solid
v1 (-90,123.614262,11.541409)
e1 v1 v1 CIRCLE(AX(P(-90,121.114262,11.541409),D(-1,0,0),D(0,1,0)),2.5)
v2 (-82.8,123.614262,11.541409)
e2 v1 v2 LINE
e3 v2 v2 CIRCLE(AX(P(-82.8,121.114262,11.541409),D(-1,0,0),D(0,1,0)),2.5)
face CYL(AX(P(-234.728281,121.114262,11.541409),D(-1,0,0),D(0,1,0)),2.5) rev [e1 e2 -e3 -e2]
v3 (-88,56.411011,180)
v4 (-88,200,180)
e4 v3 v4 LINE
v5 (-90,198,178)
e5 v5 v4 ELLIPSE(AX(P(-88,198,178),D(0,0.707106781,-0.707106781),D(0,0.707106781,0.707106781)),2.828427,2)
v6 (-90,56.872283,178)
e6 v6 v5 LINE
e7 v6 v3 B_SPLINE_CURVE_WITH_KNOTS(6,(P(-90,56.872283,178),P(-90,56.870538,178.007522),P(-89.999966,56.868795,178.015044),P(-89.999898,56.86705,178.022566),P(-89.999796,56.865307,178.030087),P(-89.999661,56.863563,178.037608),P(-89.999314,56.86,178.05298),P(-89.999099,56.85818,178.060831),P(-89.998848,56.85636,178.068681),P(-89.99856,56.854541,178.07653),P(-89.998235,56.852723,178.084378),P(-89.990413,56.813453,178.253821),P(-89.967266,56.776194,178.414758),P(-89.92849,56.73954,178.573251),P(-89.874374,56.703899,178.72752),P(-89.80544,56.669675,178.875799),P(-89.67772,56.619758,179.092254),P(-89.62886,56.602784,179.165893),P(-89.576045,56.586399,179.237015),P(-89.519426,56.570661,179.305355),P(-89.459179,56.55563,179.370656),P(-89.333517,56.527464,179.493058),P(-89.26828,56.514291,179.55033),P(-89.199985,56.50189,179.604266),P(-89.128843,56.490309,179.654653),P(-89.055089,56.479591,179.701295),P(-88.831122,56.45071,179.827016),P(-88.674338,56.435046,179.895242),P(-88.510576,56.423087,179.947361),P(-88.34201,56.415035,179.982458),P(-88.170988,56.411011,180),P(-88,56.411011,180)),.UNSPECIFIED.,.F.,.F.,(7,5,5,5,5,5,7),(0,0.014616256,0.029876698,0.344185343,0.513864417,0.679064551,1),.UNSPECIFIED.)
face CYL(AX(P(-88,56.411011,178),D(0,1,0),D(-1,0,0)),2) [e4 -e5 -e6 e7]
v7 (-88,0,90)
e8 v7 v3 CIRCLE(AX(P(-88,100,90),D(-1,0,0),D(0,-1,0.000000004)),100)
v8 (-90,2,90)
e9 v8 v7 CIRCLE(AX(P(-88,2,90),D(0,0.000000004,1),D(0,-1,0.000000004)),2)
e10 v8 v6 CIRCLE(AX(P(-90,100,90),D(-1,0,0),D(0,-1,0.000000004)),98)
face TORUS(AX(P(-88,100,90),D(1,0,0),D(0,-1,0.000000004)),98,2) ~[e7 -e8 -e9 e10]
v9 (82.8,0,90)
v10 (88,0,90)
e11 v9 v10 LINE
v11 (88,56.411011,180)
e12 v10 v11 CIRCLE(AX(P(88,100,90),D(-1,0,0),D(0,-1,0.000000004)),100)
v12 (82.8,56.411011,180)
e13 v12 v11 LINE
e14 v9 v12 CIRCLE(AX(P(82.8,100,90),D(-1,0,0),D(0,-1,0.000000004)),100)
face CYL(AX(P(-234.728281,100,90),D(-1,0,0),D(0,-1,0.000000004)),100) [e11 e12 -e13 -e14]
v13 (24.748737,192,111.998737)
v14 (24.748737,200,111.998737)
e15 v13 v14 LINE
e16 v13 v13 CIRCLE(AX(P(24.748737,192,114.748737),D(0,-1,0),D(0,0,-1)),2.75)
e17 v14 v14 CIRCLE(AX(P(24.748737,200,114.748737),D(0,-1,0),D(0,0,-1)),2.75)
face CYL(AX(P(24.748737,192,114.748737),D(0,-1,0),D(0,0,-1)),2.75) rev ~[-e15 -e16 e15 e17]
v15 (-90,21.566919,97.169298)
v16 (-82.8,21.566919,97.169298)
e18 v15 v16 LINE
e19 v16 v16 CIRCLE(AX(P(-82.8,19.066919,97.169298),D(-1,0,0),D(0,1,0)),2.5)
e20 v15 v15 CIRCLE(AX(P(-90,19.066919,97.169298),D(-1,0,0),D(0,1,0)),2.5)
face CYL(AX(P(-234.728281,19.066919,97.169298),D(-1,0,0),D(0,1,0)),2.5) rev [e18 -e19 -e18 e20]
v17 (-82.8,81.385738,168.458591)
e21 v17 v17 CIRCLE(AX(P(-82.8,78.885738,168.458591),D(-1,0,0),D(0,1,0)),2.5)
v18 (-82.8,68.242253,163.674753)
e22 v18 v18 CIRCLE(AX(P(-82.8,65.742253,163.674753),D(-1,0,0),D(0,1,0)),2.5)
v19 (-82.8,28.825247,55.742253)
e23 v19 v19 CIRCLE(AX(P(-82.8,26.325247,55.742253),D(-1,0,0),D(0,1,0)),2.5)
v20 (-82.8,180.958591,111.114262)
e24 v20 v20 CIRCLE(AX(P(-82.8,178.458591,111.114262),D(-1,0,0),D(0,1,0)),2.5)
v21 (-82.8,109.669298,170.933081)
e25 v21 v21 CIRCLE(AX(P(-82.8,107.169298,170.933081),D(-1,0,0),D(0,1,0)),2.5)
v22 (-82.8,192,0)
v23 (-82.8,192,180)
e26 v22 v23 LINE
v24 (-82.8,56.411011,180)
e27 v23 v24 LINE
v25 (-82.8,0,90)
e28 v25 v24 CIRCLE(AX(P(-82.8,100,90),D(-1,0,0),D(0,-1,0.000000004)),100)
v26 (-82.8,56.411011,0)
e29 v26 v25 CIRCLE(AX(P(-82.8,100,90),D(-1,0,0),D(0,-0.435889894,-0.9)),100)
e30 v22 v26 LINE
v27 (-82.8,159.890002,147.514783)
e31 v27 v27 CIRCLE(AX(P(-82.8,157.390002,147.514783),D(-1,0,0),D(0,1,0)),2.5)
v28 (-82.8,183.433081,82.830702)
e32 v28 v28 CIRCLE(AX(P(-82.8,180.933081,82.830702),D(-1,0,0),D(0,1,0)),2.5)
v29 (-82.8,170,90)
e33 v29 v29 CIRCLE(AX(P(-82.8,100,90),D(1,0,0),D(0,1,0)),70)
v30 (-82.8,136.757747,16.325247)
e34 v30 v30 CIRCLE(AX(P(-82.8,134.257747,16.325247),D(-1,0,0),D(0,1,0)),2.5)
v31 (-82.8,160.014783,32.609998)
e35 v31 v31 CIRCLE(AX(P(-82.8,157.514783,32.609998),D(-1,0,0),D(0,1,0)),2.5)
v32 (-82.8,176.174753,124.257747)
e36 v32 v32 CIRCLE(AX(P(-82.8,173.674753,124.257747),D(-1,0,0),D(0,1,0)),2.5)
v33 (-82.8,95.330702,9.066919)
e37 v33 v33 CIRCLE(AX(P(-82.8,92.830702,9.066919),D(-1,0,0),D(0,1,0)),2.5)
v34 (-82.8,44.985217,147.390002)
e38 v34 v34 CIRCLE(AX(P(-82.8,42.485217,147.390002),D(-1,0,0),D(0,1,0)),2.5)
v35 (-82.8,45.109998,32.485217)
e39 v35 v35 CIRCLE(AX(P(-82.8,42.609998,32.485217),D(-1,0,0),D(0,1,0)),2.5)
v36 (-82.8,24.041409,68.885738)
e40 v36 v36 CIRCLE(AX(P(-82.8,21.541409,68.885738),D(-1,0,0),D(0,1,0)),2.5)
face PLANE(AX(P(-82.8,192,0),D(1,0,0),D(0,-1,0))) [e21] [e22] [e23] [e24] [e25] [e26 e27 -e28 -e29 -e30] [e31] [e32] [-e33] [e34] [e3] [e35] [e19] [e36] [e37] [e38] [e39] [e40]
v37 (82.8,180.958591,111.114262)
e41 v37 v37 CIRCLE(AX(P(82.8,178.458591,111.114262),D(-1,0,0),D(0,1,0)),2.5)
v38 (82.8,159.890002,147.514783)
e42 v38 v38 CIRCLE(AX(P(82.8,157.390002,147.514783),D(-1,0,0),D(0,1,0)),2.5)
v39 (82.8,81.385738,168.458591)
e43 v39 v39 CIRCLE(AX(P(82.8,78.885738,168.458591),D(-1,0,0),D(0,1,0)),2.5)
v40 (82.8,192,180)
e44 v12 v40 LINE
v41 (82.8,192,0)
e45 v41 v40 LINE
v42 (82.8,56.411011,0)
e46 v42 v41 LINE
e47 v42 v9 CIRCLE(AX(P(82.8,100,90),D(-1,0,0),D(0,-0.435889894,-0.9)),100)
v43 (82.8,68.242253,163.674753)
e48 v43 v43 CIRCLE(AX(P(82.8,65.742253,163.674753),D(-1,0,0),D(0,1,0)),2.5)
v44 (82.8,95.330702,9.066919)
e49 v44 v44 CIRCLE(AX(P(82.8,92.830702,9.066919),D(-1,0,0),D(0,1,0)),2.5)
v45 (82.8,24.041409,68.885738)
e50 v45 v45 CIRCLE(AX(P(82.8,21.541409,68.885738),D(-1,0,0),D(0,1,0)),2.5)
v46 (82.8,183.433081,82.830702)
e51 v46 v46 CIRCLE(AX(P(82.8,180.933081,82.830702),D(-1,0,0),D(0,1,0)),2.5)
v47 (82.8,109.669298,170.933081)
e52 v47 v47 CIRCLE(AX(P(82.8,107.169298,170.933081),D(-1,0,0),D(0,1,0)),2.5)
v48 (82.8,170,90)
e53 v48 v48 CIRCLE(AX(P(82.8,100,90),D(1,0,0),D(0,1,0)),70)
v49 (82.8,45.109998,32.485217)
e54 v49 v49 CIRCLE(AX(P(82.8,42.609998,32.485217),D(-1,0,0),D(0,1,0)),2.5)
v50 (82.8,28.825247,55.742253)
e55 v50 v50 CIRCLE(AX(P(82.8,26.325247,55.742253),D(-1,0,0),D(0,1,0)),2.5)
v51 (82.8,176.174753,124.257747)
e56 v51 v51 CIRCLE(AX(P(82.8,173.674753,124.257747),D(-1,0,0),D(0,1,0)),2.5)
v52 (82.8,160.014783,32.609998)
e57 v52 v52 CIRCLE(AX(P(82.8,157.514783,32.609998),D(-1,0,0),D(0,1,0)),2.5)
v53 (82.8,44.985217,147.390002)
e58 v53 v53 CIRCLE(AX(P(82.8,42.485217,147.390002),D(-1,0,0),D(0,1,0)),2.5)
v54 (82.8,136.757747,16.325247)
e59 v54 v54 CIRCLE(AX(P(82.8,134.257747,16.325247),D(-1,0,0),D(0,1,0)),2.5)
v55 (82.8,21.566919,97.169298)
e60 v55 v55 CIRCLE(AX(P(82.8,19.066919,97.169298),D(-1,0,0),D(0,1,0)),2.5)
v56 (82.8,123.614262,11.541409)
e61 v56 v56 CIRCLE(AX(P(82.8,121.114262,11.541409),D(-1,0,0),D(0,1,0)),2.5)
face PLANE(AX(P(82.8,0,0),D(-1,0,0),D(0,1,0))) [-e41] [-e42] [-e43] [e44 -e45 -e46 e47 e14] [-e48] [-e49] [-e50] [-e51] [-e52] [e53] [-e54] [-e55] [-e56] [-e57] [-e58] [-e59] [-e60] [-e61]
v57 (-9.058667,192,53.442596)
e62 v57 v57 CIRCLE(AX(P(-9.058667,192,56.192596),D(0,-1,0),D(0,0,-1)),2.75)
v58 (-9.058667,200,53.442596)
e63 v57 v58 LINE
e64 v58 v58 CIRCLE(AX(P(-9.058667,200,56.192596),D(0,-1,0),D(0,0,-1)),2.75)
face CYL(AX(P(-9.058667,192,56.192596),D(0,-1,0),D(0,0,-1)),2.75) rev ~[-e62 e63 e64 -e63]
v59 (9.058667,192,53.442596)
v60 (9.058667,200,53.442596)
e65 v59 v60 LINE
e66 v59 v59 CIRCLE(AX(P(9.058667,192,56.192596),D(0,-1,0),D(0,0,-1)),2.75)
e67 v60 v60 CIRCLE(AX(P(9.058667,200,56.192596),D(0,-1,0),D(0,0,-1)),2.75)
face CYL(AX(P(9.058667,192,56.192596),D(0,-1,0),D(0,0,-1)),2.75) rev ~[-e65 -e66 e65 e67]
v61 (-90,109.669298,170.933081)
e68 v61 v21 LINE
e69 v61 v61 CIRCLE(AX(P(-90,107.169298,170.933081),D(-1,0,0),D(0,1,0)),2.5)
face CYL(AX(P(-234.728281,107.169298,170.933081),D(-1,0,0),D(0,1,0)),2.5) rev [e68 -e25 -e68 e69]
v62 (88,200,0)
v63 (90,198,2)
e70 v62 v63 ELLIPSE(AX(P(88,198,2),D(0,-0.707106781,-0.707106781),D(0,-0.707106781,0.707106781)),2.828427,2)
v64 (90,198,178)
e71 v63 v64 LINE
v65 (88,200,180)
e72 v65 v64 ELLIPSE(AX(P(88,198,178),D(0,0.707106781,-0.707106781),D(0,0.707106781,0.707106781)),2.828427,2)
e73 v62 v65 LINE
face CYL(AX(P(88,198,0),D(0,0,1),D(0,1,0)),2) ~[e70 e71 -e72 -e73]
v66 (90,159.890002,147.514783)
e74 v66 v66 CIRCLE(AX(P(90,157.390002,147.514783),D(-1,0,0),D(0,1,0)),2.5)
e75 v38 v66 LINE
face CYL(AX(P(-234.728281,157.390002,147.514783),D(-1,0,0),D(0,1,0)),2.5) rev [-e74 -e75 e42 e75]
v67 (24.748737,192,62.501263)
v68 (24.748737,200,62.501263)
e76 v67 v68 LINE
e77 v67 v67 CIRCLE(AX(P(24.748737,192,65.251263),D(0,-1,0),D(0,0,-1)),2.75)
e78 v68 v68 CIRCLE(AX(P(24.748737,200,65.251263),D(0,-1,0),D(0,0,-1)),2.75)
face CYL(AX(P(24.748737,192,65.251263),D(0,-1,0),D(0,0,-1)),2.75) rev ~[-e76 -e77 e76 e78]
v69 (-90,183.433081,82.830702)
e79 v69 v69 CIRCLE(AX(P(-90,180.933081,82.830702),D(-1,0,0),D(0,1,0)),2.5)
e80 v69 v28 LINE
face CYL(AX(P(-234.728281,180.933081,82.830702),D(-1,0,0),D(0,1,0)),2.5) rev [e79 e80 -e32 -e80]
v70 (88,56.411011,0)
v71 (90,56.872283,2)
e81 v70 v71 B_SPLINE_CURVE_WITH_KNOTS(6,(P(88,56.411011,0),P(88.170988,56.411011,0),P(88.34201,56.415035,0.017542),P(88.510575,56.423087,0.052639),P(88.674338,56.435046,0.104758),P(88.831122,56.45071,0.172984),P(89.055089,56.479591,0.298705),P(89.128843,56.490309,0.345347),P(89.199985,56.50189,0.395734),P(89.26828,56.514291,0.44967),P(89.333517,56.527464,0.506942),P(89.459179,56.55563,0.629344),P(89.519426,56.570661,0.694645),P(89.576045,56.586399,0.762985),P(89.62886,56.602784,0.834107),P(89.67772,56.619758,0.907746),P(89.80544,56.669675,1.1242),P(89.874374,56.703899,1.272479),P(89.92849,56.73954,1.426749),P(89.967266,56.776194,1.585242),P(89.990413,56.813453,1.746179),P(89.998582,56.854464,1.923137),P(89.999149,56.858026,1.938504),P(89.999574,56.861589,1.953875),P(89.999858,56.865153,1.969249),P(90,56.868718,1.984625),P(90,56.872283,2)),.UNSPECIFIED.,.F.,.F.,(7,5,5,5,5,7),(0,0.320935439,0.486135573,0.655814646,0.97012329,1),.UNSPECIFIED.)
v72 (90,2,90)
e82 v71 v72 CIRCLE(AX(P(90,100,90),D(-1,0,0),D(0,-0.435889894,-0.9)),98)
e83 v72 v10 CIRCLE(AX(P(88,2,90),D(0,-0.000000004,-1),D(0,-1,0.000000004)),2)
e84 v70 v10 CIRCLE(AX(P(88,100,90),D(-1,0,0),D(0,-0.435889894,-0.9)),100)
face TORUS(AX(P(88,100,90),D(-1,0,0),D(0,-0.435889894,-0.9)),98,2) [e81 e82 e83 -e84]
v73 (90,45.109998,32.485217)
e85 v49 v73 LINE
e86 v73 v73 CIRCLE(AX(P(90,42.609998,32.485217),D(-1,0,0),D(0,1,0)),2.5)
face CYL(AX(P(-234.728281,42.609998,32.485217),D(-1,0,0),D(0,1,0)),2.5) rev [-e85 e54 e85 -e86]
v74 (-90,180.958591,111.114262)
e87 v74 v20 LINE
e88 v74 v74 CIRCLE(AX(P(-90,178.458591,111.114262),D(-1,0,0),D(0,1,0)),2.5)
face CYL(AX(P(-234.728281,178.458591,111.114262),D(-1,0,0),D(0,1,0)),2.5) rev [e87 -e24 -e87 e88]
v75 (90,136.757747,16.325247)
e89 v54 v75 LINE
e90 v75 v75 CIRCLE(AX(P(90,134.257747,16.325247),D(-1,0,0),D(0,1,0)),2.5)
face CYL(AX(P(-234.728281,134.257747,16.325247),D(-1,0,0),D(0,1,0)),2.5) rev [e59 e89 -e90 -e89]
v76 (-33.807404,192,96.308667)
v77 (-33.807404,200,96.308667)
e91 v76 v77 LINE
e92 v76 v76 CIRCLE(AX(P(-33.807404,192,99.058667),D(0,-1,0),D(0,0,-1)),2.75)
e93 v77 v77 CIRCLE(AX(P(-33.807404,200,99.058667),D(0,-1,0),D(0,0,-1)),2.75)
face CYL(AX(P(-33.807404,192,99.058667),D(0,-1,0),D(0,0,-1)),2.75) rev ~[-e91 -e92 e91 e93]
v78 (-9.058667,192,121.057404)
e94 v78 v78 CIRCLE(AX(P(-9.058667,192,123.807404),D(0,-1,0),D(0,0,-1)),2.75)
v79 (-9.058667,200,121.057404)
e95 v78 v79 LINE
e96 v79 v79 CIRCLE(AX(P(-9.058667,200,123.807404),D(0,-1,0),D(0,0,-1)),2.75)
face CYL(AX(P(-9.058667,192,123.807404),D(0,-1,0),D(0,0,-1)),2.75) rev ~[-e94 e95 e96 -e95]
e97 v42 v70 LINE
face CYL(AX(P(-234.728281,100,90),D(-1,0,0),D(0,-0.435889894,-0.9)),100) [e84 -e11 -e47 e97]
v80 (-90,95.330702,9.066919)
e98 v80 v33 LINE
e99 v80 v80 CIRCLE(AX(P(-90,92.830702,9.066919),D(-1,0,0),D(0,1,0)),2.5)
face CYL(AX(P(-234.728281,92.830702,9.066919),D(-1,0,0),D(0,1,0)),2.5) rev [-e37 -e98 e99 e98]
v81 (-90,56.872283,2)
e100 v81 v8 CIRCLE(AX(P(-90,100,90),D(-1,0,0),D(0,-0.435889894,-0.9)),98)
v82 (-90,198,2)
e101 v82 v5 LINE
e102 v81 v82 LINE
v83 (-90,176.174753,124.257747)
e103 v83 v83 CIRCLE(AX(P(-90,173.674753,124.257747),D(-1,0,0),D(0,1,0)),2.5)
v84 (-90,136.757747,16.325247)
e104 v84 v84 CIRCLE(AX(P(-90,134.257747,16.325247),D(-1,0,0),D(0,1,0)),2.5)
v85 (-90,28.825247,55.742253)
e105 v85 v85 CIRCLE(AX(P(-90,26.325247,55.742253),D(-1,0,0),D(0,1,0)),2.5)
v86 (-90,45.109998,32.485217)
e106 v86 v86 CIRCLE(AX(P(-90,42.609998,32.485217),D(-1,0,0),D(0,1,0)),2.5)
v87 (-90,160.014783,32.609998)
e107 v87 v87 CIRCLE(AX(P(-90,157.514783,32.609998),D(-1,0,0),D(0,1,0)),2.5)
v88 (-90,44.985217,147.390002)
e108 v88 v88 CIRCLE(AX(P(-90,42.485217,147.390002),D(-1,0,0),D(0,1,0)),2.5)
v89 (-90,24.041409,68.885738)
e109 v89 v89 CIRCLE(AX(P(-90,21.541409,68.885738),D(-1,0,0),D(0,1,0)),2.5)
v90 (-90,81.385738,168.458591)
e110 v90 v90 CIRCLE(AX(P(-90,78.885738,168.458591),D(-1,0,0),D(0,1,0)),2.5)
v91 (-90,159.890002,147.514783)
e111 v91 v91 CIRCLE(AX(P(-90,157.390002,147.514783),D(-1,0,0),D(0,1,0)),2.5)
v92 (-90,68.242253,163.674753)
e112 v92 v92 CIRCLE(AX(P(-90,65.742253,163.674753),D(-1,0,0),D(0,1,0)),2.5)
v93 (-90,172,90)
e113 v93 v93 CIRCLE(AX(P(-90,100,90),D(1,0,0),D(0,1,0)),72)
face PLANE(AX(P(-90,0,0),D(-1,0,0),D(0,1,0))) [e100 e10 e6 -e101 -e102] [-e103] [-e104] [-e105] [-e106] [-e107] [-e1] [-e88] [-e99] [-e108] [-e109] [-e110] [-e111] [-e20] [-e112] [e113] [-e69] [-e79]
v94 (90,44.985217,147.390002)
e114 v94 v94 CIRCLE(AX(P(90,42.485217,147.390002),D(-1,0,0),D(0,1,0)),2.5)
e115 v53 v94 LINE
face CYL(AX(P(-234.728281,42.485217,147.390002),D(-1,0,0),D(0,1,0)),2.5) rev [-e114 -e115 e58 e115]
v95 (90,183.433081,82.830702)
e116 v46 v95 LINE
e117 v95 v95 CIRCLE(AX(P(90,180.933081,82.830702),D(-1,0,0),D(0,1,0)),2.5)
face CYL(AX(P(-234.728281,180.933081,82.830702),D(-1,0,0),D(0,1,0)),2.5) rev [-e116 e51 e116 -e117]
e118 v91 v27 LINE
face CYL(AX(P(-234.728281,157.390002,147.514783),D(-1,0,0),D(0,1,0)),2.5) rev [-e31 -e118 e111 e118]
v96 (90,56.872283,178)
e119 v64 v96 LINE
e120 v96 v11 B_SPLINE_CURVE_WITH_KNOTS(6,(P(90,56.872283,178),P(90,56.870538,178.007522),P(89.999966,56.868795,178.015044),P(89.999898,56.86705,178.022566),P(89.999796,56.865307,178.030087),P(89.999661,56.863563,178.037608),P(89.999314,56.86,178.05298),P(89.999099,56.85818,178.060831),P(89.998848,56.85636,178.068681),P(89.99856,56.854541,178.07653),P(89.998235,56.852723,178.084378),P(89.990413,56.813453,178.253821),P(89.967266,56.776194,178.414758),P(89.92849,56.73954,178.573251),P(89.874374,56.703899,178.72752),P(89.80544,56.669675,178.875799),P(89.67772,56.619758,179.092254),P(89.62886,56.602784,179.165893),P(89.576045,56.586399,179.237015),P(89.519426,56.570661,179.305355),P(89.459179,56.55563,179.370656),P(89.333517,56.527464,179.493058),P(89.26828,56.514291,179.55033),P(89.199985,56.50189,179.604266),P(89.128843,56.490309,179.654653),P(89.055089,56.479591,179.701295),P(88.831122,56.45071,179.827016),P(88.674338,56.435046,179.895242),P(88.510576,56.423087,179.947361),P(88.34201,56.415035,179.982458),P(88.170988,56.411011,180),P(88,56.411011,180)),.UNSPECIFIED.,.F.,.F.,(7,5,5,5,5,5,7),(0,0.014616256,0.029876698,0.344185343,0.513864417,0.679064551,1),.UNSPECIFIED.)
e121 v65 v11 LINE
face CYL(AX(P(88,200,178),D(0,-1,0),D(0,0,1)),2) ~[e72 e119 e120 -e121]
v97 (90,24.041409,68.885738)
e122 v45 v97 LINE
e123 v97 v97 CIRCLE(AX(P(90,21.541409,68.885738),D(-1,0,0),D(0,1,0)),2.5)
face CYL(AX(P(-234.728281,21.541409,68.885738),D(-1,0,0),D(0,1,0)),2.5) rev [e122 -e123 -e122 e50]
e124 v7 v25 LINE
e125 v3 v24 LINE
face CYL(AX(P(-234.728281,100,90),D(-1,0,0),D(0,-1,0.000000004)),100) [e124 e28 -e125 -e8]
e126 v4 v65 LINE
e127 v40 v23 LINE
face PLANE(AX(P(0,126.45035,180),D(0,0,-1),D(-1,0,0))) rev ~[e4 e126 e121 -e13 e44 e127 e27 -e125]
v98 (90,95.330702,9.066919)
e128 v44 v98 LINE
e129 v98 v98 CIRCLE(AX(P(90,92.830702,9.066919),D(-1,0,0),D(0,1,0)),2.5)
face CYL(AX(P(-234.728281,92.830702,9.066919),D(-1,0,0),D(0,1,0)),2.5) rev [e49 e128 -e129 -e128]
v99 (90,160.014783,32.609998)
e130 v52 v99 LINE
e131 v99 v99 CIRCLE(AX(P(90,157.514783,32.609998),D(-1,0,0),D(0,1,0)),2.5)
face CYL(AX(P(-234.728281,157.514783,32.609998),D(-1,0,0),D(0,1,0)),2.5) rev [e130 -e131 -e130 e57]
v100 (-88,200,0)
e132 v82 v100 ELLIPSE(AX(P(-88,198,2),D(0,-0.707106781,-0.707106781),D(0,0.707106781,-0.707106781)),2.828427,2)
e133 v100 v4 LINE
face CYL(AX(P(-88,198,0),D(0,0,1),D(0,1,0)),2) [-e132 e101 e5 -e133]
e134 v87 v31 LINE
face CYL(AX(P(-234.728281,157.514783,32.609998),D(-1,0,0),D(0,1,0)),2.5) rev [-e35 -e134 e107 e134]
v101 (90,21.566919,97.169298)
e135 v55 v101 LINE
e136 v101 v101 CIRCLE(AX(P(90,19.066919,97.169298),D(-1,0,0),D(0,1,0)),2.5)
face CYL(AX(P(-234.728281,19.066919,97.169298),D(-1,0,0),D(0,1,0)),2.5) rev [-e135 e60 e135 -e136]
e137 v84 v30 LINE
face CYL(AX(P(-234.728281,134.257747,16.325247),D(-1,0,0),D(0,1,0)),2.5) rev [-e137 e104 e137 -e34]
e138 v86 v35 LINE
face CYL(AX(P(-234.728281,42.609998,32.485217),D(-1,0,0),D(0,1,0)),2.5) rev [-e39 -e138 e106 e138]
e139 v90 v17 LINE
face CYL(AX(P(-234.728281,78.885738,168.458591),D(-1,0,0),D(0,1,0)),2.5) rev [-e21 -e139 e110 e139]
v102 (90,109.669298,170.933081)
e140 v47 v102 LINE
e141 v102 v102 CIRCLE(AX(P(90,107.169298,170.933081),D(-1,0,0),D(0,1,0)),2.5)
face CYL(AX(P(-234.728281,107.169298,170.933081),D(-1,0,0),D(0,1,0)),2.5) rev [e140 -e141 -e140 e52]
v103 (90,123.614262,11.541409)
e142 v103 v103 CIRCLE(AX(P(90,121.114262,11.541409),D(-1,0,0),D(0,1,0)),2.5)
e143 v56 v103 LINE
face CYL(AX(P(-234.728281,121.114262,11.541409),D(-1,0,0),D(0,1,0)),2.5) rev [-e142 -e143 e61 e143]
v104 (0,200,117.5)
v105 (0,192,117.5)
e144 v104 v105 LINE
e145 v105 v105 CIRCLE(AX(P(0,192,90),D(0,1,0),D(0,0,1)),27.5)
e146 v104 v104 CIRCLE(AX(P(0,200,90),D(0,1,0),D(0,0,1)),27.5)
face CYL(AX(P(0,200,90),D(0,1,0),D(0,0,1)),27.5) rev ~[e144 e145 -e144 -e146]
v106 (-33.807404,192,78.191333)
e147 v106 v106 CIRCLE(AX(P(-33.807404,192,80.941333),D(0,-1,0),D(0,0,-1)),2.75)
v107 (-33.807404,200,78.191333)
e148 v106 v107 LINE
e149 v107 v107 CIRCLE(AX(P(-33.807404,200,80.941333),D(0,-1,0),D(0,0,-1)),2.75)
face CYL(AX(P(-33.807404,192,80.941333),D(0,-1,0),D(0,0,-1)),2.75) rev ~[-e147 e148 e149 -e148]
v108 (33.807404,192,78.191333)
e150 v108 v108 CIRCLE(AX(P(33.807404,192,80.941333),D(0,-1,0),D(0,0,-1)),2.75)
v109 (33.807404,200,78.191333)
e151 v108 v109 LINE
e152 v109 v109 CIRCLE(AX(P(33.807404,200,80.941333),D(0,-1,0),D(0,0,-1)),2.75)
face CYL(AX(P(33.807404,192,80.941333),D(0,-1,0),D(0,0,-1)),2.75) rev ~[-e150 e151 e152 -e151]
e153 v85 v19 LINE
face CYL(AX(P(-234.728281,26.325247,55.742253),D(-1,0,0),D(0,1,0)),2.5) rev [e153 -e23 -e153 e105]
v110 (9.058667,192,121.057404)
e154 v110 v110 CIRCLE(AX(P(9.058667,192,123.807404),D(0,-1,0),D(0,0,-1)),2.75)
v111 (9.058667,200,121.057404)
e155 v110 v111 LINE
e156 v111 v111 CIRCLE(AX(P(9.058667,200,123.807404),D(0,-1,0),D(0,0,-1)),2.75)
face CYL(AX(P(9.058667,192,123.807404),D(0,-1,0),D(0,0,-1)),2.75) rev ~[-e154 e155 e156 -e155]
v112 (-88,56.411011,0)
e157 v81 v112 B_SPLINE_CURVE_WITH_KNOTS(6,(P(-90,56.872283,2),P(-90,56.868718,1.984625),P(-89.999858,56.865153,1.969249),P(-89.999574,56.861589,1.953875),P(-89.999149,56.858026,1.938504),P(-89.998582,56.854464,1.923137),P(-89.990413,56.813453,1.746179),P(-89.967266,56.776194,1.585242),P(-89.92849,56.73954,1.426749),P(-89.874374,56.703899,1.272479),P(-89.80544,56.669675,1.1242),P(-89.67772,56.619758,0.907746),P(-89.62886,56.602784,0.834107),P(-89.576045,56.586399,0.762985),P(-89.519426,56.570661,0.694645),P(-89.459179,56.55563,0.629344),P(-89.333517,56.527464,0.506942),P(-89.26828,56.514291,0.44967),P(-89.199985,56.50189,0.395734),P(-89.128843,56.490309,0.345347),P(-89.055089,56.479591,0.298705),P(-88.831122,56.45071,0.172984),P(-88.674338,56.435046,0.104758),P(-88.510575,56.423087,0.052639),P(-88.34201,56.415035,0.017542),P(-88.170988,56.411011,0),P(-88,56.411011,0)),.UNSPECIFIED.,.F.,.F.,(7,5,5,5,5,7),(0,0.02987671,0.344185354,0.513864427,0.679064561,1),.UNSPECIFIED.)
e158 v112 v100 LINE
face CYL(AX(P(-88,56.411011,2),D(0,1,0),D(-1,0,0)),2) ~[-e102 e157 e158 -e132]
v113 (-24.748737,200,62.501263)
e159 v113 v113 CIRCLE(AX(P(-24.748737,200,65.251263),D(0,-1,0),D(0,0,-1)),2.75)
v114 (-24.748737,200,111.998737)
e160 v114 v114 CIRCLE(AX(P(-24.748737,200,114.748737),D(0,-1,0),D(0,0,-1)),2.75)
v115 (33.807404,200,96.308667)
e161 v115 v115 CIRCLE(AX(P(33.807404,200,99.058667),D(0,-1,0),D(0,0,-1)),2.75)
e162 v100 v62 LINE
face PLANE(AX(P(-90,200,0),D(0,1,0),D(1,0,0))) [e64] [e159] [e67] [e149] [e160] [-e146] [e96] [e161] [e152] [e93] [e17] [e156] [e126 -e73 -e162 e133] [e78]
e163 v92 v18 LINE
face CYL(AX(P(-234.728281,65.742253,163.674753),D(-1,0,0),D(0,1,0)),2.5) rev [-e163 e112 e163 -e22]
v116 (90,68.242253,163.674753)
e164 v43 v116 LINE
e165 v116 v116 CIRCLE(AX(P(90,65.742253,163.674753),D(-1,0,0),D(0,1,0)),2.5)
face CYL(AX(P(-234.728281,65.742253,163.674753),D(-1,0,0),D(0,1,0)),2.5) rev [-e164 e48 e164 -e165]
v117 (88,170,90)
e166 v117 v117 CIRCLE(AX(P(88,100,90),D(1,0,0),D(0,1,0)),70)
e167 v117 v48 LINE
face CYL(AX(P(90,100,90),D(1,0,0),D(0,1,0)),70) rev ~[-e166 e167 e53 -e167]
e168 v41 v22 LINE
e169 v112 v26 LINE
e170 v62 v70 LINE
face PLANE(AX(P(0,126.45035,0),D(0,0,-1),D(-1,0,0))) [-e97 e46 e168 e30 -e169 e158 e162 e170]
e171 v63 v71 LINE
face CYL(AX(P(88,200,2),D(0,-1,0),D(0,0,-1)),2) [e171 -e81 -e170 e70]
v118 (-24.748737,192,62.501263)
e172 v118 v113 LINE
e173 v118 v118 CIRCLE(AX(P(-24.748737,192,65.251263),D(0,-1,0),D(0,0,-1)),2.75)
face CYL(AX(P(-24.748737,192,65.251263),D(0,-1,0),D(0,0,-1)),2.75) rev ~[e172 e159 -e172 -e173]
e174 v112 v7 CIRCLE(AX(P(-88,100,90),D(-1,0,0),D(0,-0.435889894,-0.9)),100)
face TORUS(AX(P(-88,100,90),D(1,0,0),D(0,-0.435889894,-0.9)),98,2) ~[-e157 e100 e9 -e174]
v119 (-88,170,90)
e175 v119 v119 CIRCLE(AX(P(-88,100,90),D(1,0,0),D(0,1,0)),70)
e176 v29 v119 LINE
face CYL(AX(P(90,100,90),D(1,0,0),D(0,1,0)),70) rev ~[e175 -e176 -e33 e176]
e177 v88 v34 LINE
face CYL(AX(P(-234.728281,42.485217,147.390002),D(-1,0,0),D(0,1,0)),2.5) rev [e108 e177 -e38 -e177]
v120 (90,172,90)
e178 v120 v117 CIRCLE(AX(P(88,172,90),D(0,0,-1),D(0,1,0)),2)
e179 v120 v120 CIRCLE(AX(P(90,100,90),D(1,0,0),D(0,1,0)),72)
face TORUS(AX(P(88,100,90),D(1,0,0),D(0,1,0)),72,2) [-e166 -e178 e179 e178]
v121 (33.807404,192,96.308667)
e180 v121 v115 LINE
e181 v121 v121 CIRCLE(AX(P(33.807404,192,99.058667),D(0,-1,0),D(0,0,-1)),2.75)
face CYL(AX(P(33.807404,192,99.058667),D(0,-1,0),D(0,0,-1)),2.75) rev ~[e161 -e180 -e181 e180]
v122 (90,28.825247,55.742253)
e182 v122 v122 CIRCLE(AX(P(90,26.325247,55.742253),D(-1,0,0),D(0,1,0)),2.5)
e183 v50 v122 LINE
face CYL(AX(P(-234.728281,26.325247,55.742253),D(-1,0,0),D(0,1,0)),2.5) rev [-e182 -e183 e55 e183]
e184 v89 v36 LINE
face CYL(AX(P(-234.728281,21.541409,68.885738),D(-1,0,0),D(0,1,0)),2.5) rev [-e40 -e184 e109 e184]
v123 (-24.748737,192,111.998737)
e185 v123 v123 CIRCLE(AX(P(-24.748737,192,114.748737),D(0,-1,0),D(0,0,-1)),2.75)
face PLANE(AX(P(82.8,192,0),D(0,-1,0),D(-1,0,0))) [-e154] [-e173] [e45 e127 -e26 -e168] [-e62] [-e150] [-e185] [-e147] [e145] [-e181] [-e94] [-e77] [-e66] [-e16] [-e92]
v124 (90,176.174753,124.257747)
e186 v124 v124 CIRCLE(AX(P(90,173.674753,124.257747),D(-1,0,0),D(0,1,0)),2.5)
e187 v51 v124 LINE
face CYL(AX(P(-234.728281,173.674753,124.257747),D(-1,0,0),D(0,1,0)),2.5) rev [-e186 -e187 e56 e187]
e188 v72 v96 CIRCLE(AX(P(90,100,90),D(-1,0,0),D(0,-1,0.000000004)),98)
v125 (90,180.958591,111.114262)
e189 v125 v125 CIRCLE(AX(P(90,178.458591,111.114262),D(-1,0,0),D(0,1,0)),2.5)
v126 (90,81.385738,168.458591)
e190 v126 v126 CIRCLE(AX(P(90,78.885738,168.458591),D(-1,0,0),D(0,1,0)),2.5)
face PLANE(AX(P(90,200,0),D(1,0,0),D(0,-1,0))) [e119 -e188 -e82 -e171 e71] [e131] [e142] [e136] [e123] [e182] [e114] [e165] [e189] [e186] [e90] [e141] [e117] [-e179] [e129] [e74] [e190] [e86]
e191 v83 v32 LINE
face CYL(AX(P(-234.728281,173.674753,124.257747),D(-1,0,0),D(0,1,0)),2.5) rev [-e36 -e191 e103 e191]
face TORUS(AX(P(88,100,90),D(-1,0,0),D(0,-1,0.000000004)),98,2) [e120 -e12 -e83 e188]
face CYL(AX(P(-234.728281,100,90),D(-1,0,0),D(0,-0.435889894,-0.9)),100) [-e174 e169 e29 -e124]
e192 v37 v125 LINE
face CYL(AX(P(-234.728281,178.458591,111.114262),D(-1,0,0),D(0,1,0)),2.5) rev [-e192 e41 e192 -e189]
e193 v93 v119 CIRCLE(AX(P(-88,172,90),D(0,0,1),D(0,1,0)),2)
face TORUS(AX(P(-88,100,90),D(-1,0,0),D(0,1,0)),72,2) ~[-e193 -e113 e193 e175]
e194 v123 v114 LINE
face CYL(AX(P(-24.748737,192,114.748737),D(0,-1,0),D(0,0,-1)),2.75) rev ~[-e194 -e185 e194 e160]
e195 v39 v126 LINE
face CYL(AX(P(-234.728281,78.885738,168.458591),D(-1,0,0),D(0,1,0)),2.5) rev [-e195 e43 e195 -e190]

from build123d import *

# Parameters (mm, degrees)
EXTRUDE_1_DEPTH          = 180
SKETCH_2_R               = 27.5
CUT_EXTRUDE_1_DEPTH      = 180
SKETCH_3_R               = 70
CUT_EXTRUDE_2_DEPTH      = 217
CUT_EXTRUDE_5_DEPTH      = 324.728281125
CUT_EXTRUDE_5_DEPTH_BACK = 324.728281125
FILLET_2_R               = 2
CUT_EXTRUDE_6_DEPTH      = 324.728281298
CUT_EXTRUDE_6_DEPTH_BACK = 324.728281298
SKETCH_10_R              = 2.5
SKETCH_11_R              = 2.75
CUT_EXTRUDE_7_DEPTH      = 29


with BuildPart() as part:
    # 草图1 → 凸台-拉伸1 (new body)
    with BuildSketch(Plane.XY):
        Polygon((-90, 200), (90, 200), (90, 0), (82.8, 0), (82.8, 192), (-82.8, 192), (-82.8, 0), (-90, 0), align=None)
    extrude(amount=EXTRUDE_1_DEPTH)

    # 草图2 → 切除-拉伸1 (cut)
    with BuildSketch(Plane(origin=(0, 200, 0), x_dir=(1, 0, 0), z_dir=(0, 1, 0))):
        with Locations(Location((0, -90, 0), (0, 0, 270))):
            Circle(SKETCH_2_R)
    extrude(amount=-CUT_EXTRUDE_1_DEPTH, mode=Mode.SUBTRACT)

    # 草图3 → 切除-拉伸2 (cut)
    with BuildSketch(Plane(origin=(90, 0, 0), x_dir=(0, 0, -1), z_dir=(1, 0, 0))):
        with Locations(Location((-90, 100, 0), (0, 0, 90))):
            Circle(SKETCH_3_R)
    extrude(amount=-CUT_EXTRUDE_2_DEPTH, mode=Mode.SUBTRACT)

    # 草图9 → 切除-拉伸5 (cut, two sides: drawn at the far end of the back side and taken through both)
    with BuildSketch(Plane(origin=(90, 0, 0), x_dir=(0, 0, -1), z_dir=(1, 0, 0)).offset(-CUT_EXTRUDE_5_DEPTH_BACK)):
        with BuildLine():
            Line((0, 0), (0, 56.411010565))
            ThreePointArc((0, 56.411010565), (-36.891144692, 15.268367844), (-90.000000357, 0))
            Line((-90.000000357, 0), (0, 0))
        make_face()
        with BuildLine():
            Line((-180, 0), (-90.000000357, 0))
            ThreePointArc((-90.000000357, 0), (-143.108855611, 15.268368034), (-180, 56.411010565))
            Line((-180, 56.411010565), (-180, 0))
        make_face()
    extrude(amount=CUT_EXTRUDE_5_DEPTH + CUT_EXTRUDE_5_DEPTH_BACK, mode=Mode.SUBTRACT)

    # 圆角2
    fillet_2_edges = [part.edges().sort_by_distance(p)[0] for p in [
        (-90, 128.205505282, 0),
        (-90, 128.205505282, 180),
        (-90, 200, 90),
        (90, 200, 90),
        (-90, 30, 90),
        (90, 30, 90),
        (90, 128.205505282, 0),
        (90, 0, 90),
        (-90, 0, 90),
        (90, 128.205505282, 180),
    ]]
    fillet(fillet_2_edges, radius=FILLET_2_R)

    # 草图10 → 切除-拉伸6 (cut, two sides: drawn at the far end of the back side and taken through both)
    with BuildSketch(Plane(origin=(90, 0, 0), x_dir=(0, 0, -1), z_dir=(1, 0, 0)).offset(-CUT_EXTRUDE_6_DEPTH_BACK)):
        with Locations(Location((-32.609998318, 157.514782508, 0), (0, 0, 90))):
            Circle(SKETCH_10_R)
        with Locations(Location((-16.325246691, 134.257746931, 0), (0, 0, 90))):
            Circle(SKETCH_10_R)
        with Locations(Location((-11.541409366, 121.114261903, 0), (0, 0, 90))):
            Circle(SKETCH_10_R)
        with Locations(Location((-9.066918551, 92.830702464, 0), (0, 0, 90))):
            Circle(SKETCH_10_R)
        with Locations(Location((-32.485217492, 42.609998318, 0), (0, 0, 90))):
            Circle(SKETCH_10_R)
        with Locations(Location((-55.742253069, 26.325246691, 0), (0, 0, 90))):
            Circle(SKETCH_10_R)
        with Locations(Location((-68.885738097, 21.541409366, 0), (0, 0, 90))):
            Circle(SKETCH_10_R)
        with Locations(Location((-97.169297536, 19.066918551, 0), (0, 0, 90))):
            Circle(SKETCH_10_R)
        with Locations(Location((-147.390001682, 42.485217492, 0), (0, 0, 90))):
            Circle(SKETCH_10_R)
        with Locations(Location((-163.674753309, 65.742253069, 0), (0, 0, 90))):
            Circle(SKETCH_10_R)
        with Locations(Location((-168.458590634, 78.885738097, 0), (0, 0, 90))):
            Circle(SKETCH_10_R)
        with Locations(Location((-170.933081449, 107.169297536, 0), (0, 0, 90))):
            Circle(SKETCH_10_R)
        with Locations(Location((-147.514782508, 157.390001682, 0), (0, 0, 90))):
            Circle(SKETCH_10_R)
        with Locations(Location((-124.257746931, 173.674753309, 0), (0, 0, 90))):
            Circle(SKETCH_10_R)
        with Locations(Location((-111.114261903, 178.458590634, 0), (0, 0, 90))):
            Circle(SKETCH_10_R)
        with Locations(Location((-82.830702464, 180.933081449, 0), (0, 0, 90))):
            Circle(SKETCH_10_R)
    extrude(amount=CUT_EXTRUDE_6_DEPTH + CUT_EXTRUDE_6_DEPTH_BACK, mode=Mode.SUBTRACT)

    # 草图11 → 切除-拉伸7 (cut)
    with BuildSketch(Plane.XZ.offset(-192)):
        with Locations(Location((9.058666579, 123.80740392, 0), (0, 0, 270))):
            Circle(SKETCH_11_R)
        with Locations(Location((24.748737342, 114.748737342, 0), (0, 0, 270))):
            Circle(SKETCH_11_R)
        with Locations(Location((33.80740392, 99.058666579, 0), (0, 0, 270))):
            Circle(SKETCH_11_R)
        with Locations(Location((33.80740392, 80.941333421, 0), (0, 0, 270))):
            Circle(SKETCH_11_R)
        with Locations(Location((24.748737342, 65.251262658, 0), (0, 0, 270))):
            Circle(SKETCH_11_R)
        with Locations(Location((9.058666579, 56.19259608, 0), (0, 0, 270))):
            Circle(SKETCH_11_R)
        with Locations(Location((-9.058666579, 56.19259608, 0), (0, 0, 270))):
            Circle(SKETCH_11_R)
        with Locations(Location((-24.748737342, 65.251262658, 0), (0, 0, 270))):
            Circle(SKETCH_11_R)
        with Locations(Location((-33.80740392, 80.941333421, 0), (0, 0, 270))):
            Circle(SKETCH_11_R)
        with Locations(Location((-33.80740392, 99.058666579, 0), (0, 0, 270))):
            Circle(SKETCH_11_R)
        with Locations(Location((-24.748737342, 114.748737342, 0), (0, 0, 270))):
            Circle(SKETCH_11_R)
        with Locations(Location((-9.058666579, 123.80740392, 0), (0, 0, 270))):
            Circle(SKETCH_11_R)
    extrude(amount=-CUT_EXTRUDE_7_DEPTH, mode=Mode.SUBTRACT)


solid = part.part
